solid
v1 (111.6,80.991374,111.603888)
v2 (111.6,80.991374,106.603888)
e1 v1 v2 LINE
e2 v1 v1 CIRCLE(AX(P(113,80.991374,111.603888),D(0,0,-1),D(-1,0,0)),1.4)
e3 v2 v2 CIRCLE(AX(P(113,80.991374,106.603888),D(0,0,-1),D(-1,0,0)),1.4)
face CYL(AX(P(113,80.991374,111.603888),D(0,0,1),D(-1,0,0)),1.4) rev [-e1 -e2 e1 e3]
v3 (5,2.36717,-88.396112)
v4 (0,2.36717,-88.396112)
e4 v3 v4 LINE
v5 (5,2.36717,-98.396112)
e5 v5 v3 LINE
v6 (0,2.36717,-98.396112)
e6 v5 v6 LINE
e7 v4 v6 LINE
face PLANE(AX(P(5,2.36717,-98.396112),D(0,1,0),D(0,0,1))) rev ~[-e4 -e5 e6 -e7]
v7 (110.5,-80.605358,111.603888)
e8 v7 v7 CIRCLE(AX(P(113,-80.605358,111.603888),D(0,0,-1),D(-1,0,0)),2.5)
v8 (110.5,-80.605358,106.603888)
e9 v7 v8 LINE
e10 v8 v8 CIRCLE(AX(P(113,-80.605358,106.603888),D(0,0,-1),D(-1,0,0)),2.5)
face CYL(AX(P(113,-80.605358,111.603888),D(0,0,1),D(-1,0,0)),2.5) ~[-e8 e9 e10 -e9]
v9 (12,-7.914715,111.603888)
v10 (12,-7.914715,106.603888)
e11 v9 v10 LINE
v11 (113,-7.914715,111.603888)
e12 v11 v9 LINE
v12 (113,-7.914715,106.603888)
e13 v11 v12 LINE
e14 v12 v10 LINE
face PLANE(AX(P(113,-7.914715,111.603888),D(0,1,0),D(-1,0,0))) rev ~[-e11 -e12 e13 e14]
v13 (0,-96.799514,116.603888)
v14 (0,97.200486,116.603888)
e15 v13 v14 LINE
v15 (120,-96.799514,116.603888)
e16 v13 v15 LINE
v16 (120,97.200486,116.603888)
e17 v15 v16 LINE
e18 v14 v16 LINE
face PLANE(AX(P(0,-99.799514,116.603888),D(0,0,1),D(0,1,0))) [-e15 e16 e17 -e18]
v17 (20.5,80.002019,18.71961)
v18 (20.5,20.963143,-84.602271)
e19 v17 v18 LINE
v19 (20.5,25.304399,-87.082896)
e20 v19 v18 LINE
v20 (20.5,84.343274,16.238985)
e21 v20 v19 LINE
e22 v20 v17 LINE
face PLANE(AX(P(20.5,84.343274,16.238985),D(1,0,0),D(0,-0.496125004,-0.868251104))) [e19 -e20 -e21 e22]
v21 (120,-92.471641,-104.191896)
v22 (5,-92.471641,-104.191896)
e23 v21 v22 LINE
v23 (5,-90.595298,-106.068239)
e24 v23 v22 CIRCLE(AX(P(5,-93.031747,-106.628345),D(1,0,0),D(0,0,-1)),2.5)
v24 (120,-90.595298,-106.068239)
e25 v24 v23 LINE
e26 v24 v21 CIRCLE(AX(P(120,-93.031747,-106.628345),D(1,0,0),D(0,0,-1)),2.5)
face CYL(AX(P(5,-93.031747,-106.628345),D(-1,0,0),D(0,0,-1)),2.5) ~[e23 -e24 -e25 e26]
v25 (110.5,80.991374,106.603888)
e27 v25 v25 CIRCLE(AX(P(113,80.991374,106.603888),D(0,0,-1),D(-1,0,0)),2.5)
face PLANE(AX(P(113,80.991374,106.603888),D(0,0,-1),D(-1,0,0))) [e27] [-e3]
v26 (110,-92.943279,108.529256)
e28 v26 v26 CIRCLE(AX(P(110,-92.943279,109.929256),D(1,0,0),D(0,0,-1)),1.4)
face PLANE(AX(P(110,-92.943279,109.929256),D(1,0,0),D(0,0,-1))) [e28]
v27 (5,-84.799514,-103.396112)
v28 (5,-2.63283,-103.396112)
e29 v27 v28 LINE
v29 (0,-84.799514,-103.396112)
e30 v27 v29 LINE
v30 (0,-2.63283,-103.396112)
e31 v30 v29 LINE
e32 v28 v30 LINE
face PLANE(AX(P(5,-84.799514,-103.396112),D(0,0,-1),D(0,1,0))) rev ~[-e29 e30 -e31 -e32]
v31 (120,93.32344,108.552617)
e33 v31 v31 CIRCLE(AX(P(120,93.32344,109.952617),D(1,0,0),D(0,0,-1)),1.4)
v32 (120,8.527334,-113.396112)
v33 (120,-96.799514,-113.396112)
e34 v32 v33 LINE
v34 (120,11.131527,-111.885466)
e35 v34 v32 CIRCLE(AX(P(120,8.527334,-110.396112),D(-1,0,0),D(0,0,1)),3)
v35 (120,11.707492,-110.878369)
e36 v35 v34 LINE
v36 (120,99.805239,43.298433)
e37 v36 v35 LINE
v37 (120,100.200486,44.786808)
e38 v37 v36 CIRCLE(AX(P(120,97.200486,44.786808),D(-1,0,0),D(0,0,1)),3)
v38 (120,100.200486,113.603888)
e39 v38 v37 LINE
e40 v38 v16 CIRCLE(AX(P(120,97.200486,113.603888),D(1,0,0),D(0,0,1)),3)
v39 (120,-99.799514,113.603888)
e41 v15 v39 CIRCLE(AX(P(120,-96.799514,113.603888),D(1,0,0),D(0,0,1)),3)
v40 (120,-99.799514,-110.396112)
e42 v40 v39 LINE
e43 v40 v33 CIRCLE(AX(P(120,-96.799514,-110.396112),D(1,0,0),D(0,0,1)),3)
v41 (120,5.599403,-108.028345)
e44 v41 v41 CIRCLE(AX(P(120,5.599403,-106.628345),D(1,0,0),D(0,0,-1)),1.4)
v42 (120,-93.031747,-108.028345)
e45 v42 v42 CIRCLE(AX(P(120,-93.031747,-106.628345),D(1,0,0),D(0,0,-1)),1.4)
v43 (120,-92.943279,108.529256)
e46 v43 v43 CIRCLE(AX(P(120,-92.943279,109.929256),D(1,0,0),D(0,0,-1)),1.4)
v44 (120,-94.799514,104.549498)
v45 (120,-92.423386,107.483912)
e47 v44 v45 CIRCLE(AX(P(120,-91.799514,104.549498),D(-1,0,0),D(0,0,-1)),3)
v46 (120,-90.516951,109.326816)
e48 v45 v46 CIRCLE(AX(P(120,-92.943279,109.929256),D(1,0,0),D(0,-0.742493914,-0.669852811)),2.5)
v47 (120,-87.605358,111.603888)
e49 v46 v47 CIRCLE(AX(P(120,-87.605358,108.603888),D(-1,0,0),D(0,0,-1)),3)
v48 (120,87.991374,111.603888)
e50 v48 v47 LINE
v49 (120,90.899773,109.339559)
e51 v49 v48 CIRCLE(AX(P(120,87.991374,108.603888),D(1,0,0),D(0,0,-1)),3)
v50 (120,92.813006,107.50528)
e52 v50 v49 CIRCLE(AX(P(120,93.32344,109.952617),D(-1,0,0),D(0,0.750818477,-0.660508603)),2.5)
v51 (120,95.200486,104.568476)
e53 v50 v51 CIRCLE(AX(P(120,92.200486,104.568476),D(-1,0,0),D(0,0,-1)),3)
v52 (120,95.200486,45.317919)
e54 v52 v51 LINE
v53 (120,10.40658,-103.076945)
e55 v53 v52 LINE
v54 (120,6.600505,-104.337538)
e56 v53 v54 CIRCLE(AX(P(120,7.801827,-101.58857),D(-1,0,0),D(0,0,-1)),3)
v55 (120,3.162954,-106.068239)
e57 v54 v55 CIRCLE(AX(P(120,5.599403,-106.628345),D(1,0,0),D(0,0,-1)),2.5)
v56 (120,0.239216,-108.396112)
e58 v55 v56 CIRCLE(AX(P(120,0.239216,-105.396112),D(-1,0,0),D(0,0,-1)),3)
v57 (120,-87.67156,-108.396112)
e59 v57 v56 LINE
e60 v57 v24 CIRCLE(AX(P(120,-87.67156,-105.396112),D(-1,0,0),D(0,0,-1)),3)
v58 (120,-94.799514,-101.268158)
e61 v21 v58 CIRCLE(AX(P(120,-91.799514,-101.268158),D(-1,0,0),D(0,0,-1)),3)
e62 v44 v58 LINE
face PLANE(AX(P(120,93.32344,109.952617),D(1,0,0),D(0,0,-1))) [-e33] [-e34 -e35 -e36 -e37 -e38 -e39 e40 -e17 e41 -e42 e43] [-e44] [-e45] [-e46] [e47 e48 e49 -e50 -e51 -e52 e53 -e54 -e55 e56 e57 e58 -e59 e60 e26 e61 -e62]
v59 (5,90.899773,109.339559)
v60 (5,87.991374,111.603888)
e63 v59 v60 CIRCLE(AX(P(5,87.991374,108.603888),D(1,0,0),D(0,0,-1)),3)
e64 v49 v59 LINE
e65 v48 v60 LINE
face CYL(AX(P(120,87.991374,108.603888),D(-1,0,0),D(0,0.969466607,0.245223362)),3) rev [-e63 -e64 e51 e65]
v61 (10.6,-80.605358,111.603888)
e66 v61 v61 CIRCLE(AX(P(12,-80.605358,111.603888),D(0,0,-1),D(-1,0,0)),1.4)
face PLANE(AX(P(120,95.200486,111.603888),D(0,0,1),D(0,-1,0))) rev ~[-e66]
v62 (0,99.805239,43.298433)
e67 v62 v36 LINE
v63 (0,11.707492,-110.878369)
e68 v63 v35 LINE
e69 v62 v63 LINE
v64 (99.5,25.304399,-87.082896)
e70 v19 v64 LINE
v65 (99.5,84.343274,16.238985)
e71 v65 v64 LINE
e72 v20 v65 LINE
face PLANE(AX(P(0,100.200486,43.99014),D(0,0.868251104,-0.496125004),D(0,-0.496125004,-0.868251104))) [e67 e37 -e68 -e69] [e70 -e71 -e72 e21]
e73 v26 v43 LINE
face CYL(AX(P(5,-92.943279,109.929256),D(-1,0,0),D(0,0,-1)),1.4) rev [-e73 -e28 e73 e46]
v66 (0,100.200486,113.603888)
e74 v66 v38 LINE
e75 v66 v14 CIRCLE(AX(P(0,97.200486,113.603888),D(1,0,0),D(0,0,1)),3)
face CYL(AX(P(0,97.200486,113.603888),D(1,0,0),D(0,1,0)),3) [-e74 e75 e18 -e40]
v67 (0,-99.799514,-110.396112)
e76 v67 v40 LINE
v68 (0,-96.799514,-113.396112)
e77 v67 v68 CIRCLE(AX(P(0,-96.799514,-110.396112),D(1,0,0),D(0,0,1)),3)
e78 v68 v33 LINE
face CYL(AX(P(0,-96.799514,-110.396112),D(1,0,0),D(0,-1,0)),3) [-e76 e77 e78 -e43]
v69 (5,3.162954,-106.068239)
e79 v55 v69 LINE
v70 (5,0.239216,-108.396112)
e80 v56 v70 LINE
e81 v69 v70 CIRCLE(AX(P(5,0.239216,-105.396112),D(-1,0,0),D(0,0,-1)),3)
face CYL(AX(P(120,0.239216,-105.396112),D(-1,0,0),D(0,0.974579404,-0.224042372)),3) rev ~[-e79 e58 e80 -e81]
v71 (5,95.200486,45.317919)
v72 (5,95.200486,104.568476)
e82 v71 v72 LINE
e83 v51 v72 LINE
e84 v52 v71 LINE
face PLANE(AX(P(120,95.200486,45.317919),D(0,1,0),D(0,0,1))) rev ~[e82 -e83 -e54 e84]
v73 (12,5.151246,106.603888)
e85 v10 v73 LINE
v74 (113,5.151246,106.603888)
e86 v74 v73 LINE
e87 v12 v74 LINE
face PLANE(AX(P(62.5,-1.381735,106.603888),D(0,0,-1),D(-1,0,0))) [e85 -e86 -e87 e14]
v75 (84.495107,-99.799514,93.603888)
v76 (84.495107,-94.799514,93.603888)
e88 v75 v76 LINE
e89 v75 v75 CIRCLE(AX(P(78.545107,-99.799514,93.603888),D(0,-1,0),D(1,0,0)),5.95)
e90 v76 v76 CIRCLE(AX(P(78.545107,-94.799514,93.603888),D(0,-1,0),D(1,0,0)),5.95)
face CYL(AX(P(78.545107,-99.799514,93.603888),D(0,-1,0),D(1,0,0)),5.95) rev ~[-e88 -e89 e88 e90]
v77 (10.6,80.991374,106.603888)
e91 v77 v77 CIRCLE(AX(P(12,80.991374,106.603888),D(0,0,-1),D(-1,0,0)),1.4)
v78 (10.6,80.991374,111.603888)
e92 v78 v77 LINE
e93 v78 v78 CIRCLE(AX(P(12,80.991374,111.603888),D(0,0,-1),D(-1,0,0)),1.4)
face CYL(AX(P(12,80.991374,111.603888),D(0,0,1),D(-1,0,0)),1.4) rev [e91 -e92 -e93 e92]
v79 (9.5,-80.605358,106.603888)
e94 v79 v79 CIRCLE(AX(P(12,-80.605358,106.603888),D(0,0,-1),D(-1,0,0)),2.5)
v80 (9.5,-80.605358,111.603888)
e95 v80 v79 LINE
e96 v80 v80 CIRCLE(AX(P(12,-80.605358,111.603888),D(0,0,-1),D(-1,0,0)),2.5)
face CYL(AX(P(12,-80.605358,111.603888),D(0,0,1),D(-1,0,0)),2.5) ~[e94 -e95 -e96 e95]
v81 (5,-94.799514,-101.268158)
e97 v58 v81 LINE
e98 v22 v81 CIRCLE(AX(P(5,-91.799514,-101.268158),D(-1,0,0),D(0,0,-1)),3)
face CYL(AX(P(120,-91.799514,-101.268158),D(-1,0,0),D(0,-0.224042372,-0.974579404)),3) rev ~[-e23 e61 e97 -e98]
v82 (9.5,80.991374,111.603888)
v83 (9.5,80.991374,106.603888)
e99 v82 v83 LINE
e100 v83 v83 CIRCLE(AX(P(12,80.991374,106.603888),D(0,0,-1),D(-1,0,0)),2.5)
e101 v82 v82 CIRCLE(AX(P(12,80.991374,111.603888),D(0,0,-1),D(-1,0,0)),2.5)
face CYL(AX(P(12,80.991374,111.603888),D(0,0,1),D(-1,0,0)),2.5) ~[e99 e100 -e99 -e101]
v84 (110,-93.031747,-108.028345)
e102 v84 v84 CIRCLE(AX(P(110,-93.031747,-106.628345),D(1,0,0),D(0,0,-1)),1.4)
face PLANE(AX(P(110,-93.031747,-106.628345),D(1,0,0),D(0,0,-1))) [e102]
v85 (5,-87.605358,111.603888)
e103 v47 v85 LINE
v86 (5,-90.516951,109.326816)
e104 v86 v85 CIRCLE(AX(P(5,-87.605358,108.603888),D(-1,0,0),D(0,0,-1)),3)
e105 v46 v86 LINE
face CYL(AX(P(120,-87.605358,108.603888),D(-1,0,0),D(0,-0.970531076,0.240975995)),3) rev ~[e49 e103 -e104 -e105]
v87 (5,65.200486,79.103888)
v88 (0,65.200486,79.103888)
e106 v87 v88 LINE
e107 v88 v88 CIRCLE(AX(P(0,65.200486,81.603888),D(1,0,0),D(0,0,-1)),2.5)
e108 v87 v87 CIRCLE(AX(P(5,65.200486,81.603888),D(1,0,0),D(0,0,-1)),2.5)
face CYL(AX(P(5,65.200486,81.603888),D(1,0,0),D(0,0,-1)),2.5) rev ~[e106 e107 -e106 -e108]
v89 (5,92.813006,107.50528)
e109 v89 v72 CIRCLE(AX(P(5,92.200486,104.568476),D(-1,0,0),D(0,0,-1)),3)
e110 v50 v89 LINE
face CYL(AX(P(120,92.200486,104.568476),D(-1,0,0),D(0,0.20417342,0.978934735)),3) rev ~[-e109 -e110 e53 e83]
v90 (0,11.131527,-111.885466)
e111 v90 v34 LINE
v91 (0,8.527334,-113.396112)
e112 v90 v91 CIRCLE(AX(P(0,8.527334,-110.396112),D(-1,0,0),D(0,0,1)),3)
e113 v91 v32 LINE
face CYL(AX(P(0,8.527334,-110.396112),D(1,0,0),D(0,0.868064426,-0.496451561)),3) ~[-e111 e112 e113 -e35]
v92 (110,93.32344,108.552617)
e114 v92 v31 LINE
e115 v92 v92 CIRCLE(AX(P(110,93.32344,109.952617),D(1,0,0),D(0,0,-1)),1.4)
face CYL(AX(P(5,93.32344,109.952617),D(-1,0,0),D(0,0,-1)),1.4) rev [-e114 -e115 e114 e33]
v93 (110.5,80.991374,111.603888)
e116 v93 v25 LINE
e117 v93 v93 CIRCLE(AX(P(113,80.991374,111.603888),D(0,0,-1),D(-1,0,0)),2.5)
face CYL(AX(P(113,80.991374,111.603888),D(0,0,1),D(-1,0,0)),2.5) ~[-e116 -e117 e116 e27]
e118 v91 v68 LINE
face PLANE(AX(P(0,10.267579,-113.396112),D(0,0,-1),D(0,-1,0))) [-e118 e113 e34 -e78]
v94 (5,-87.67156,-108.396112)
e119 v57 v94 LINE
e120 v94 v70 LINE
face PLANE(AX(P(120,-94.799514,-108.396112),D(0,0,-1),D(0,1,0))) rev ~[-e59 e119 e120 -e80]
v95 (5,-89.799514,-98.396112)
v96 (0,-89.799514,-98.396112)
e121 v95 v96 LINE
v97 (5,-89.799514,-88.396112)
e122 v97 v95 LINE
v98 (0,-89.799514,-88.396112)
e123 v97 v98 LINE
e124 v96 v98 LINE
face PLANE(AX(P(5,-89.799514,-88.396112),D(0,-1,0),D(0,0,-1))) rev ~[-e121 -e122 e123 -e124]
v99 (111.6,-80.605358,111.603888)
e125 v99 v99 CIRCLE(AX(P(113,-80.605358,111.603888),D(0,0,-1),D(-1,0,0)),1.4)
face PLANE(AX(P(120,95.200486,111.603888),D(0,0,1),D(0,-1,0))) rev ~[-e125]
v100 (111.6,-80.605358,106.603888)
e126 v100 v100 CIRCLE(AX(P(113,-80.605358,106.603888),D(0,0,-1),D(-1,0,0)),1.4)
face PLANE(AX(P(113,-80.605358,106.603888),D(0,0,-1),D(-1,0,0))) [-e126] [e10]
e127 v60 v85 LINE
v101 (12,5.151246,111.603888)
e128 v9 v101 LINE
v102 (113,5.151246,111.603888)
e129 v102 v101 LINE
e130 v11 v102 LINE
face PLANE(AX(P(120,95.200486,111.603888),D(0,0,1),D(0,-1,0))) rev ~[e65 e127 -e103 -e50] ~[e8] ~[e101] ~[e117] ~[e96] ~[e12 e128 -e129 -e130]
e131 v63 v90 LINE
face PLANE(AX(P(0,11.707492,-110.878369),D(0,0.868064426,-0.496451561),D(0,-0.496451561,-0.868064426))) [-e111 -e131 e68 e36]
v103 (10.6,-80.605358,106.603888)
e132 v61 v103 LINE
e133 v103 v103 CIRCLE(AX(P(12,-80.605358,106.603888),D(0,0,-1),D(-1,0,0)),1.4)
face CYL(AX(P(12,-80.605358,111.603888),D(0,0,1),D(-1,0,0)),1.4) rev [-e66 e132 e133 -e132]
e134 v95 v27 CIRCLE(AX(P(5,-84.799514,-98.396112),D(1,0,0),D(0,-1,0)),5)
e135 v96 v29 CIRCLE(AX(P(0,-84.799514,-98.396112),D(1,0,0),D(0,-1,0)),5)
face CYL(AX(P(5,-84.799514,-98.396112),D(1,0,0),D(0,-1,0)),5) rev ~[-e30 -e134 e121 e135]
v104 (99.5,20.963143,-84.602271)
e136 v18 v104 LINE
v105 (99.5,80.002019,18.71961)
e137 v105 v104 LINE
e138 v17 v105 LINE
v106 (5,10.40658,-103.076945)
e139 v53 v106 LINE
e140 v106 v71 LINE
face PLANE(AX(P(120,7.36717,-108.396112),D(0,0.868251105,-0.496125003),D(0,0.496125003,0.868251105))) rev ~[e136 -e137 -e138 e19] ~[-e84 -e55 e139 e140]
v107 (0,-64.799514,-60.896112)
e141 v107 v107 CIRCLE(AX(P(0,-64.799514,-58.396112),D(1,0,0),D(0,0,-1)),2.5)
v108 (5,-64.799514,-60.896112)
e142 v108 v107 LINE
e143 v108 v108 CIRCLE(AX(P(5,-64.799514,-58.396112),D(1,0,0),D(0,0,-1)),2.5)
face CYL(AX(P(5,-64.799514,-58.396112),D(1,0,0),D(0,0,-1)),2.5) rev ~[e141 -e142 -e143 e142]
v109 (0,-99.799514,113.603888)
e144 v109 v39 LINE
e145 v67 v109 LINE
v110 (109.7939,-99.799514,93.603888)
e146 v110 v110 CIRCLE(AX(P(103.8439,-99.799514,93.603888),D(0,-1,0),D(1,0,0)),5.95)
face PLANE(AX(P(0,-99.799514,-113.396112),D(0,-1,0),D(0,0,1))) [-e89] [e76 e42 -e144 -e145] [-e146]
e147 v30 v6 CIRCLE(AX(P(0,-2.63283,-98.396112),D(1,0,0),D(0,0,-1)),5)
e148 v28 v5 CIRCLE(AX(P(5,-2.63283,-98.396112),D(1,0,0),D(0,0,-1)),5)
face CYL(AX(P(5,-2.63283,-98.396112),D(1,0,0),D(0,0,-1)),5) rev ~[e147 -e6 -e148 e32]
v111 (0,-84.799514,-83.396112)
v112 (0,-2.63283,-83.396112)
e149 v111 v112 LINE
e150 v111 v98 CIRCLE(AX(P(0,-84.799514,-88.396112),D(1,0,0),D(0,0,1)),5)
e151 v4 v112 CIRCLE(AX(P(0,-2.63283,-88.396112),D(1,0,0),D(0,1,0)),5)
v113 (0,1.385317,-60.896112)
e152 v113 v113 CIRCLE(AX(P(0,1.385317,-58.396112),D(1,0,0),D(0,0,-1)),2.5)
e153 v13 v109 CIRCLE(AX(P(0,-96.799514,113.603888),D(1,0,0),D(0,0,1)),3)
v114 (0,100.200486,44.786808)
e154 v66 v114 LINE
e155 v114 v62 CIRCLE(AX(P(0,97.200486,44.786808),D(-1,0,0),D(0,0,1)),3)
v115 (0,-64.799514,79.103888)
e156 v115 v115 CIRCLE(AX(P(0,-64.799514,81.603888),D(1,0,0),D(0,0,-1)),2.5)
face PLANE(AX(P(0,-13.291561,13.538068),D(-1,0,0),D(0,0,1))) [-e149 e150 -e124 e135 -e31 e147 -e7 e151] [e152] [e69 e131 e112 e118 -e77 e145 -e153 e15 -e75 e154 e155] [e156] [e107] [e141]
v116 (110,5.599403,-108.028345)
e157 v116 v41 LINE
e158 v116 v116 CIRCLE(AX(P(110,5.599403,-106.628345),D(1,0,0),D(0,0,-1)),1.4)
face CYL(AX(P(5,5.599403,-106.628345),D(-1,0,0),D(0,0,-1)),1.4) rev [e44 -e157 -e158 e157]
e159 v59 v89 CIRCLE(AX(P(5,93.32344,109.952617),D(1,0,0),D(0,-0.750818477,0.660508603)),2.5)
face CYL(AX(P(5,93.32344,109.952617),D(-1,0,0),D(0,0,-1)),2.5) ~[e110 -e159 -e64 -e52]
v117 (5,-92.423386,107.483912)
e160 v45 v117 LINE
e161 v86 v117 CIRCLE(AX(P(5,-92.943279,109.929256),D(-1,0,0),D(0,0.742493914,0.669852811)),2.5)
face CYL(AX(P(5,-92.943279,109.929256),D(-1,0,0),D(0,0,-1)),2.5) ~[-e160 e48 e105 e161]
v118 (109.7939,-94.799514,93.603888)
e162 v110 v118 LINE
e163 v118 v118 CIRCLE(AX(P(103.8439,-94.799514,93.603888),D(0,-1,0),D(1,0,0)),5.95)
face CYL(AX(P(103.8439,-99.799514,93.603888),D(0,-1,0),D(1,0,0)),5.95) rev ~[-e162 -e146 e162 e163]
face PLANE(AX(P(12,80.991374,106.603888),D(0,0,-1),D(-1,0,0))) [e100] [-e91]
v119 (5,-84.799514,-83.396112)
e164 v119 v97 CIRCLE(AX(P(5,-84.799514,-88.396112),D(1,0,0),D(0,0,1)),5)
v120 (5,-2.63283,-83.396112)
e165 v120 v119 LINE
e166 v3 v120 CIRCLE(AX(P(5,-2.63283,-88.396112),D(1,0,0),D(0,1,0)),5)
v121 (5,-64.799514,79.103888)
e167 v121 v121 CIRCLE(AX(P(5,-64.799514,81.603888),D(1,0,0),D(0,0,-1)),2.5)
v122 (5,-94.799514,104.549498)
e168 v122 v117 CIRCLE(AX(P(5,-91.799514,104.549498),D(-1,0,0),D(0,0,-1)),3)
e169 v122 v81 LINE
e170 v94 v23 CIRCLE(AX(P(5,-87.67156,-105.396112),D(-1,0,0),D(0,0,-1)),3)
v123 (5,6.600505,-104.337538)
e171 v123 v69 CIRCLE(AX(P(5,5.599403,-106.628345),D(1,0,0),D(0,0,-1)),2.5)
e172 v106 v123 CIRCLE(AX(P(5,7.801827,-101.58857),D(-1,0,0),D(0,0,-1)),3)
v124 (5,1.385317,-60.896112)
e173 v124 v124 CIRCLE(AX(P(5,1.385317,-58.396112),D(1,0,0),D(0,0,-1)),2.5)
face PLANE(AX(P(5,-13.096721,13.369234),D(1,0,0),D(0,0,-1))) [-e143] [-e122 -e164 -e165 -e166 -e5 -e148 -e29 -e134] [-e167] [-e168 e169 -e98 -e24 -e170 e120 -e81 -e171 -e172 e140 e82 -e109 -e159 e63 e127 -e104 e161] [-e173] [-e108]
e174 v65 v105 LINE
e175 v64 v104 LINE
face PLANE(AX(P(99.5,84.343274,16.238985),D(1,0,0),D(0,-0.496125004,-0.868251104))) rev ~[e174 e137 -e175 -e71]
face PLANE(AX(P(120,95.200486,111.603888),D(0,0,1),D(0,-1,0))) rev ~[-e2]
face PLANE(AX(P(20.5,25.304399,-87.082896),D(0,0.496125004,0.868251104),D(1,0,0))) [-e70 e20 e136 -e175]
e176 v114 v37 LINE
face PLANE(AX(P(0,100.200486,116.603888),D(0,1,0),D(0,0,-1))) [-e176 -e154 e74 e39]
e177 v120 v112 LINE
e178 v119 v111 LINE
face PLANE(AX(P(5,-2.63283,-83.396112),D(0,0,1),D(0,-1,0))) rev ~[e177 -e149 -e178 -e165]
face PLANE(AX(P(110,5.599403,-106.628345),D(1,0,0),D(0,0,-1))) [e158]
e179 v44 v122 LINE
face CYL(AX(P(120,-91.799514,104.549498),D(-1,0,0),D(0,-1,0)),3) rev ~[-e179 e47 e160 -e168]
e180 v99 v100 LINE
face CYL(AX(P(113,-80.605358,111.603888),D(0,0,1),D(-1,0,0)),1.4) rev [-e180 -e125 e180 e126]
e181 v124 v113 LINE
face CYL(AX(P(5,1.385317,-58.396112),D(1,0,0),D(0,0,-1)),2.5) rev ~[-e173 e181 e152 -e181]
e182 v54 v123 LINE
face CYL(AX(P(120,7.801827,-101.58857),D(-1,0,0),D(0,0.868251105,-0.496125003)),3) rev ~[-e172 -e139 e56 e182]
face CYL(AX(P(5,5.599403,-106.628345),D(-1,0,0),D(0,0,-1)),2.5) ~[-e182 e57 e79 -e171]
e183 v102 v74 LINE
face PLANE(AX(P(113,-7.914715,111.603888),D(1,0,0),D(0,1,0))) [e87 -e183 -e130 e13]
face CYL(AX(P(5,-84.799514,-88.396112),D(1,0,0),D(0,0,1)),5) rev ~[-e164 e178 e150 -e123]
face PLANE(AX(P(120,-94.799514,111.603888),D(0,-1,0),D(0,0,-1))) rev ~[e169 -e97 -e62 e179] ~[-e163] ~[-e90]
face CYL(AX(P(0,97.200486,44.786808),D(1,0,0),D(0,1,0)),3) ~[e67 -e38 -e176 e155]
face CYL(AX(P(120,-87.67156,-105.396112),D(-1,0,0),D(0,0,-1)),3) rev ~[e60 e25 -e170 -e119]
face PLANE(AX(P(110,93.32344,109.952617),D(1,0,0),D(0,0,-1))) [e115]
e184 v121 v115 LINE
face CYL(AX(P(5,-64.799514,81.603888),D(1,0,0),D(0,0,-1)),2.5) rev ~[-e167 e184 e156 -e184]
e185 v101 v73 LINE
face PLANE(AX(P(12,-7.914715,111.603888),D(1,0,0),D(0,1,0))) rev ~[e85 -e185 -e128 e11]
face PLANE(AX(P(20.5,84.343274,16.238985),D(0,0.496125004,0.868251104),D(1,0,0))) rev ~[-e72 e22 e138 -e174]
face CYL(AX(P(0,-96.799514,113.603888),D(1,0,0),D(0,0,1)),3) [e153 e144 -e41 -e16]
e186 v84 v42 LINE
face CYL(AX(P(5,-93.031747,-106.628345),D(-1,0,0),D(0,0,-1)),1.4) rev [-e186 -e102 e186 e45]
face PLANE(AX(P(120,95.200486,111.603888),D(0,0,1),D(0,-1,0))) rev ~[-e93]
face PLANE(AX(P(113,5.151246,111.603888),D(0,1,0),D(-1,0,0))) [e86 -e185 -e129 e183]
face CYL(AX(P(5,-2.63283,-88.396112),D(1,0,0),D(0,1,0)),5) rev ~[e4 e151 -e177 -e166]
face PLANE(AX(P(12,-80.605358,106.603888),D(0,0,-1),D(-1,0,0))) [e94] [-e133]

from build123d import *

# Parameters (mm, degrees)
BOSS_EXTRUDE1_DEPTH = 120
CUT_EXTRUDE1_DEPTH  = 115
CUT_EXTRUDE2_DEPTH  = 115
FILLET1_R           = 3
SKETCH4_R           = 2.5
SKETCH4_R_2         = 1.4
BOSS_EXTRUDE2_DEPTH = 115
SKETCH4_2_R         = 1.4
BOSS_EXTRUDE3_DEPTH = 105
FILLET2_R           = 3
SKETCH6_W           = 79
SKETCH6_H           = 119
CUT_EXTRUDE3_DEPTH  = 108
SKETCH9_R           = 2.5
CUT_EXTRUDE4_DEPTH  = 5
SKETCH10_R          = 2.5
SKETCH10_R_2        = 1.4
SKETCH10_W          = 101
SKETCH10_H          = 13.065960553
BOSS_EXTRUDE4_DEPTH = 5
SKETCH11_R          = 5.95
CUT_EXTRUDE5_DEPTH  = 5


with BuildPart() as part:
    # Sketch1 → Boss-Extrude1 (new body)
    with BuildSketch(Plane(origin=(0, 0, 0), x_dir=(0, 0, -1), z_dir=(1, 0, 0))):
        Polygon((-116.603888453, 100.200486057), (-43.990139996, 100.200486057), (110.878369353, 11.707491976), (113.396111547, 10.267579217), (113.396111547, -99.799513943), (-116.603888453, -99.799513943), align=None)
    extrude(amount=BOSS_EXTRUDE1_DEPTH)

    # Sketch2 → Cut-Extrude1 (cut)
    with BuildSketch(Plane(origin=(120, 0, 0), x_dir=(0, 0, -1), z_dir=(1, 0, 0))):
        Polygon((-111.603888453, 95.200486057), (-111.603888453, -94.799513943), (108.396111547, -94.799513943), (108.396111547, 7.367169644), (-45.31791923, 95.200486057), align=None)
    extrude(amount=-CUT_EXTRUDE1_DEPTH, mode=Mode.SUBTRACT)

    # Sketch3 → Cut-Extrude2 (cut)
    with BuildSketch(Plane(origin=(5, 0, 0), x_dir=(0, 0, -1), z_dir=(1, 0, 0))):
        with BuildLine():
            Line((98.396111547, 2.367169644), (88.396111547, 2.367169644))
            ThreePointArc((88.396111547, 2.367169644), (84.860577641, 0.90270355), (83.396111547, -2.632830356))
            Line((83.396111547, -2.632830356), (83.396111547, -84.799513943))
            ThreePointArc((83.396111547, -84.799513943), (84.860577641, -88.335047849), (88.396111547, -89.799513943))
            Line((88.396111547, -89.799513943), (98.396111547, -89.799513943))
            ThreePointArc((98.396111547, -89.799513943), (101.931645453, -88.335047849), (103.396111547, -84.799513943))
            Line((103.396111547, -84.799513943), (103.396111547, -2.632830356))
            ThreePointArc((103.396111547, -2.632830356), (101.931645453, 0.90270355), (98.396111547, 2.367169644))
        make_face()
    extrude(amount=-CUT_EXTRUDE2_DEPTH, mode=Mode.SUBTRACT)

    # Fillet1
    fillet1_edges = [part.edges().sort_by_distance(p)[0] for p in [
        (60, 100.200486057, 43.990139996),
        (60, 10.267579217, -113.396111547),
        (60, -99.799513943, -113.396111547),
        (60, -99.799513943, 116.603888453),
        (60, 100.200486057, 116.603888453),
    ]]
    fillet(fillet1_edges, radius=FILLET1_R)

    # Sketch4 → Boss-Extrude2 (add)
    # profile 1 of 4: a face of its own
    with BuildSketch(Plane(origin=(5, 0, 0), x_dir=(0, 0, -1), z_dir=(1, 0, 0))):
        with Locations((-109.952616945, 93.323439865)):
            Circle(SKETCH4_R)
        with Locations((-109.952616945, 93.323439865)):
            Circle(SKETCH4_R_2, mode=Mode.SUBTRACT)
    # profile 2 of 4: a face of its own
    with BuildSketch(Plane(origin=(5, 0, 0), x_dir=(0, 0, -1), z_dir=(1, 0, 0))):
        with Locations((-109.929256426, -92.943279159)):
            Circle(SKETCH4_R)
        with Locations((-109.929256426, -92.943279159)):
            Circle(SKETCH4_R_2, mode=Mode.SUBTRACT)
    # profile 3 of 4: a face of its own
    with BuildSketch(Plane(origin=(5, 0, 0), x_dir=(0, 0, -1), z_dir=(1, 0, 0))):
        with Locations((106.628344594, -93.03174699)):
            Circle(SKETCH4_R)
        with Locations((106.628344594, -93.03174699)):
            Circle(SKETCH4_R_2, mode=Mode.SUBTRACT)
    # profile 4 of 4: a face of its own
    with BuildSketch(Plane(origin=(5, 0, 0), x_dir=(0, 0, -1), z_dir=(1, 0, 0))):
        with Locations((106.628344594, 5.599402691)):
            Circle(SKETCH4_R)
        with Locations((106.628344594, 5.599402691)):
            Circle(SKETCH4_R_2, mode=Mode.SUBTRACT)
    extrude(amount=BOSS_EXTRUDE2_DEPTH)

    # Sketch4<2> → Boss-Extrude3 (add)
    with BuildSketch(Plane(origin=(5, 0, 0), x_dir=(0, 0, -1), z_dir=(1, 0, 0))):
        with Locations((-109.952616945, 93.323439865)):
            Circle(SKETCH4_2_R)
        with Locations((-109.929256426, -92.943279159)):
            Circle(SKETCH4_2_R)
        with Locations((106.628344594, -93.03174699)):
            Circle(SKETCH4_2_R)
        with Locations((106.628344594, 5.599402691)):
            Circle(SKETCH4_2_R)
    extrude(amount=BOSS_EXTRUDE3_DEPTH)

    # Fillet2
    fillet2_edges = [part.edges().sort_by_distance(p)[0] for p in [
        (62.5, 3.831635738, -108.396111547),
        (62.5, 8.019903673, -107.253784435),
        (62.5, -91.263980037, -108.396111547),
        (62.5, -94.799513943, -104.860577641),
        (62.5, -91.087044375, 111.603888453),
        (62.5, -94.799513943, 108.254624399),
        (62.5, 91.446393673, 111.603888453),
        (62.5, 95.200486057, 108.301345436),
    ]]
    fillet(fillet2_edges, radius=FILLET2_R)

    # Sketch6 → Cut-Extrude3 (cut)
    with BuildSketch(Plane(origin=(0, 56.587896107, -32.33473594), x_dir=(1, 0, 0), z_dir=(0, 0.8682511043894195, -0.49612500413358857))):
        with Locations((60, 3.555675669)):
            Rectangle(SKETCH6_W, SKETCH6_H)
    extrude(amount=-CUT_EXTRUDE3_DEPTH, mode=Mode.SUBTRACT)

    # Sketch9 → Cut-Extrude4 (cut)
    with BuildSketch(Plane(origin=(5, 0, 0), x_dir=(0, 0, -1), z_dir=(1, 0, 0))):
        with Locations((58.396111547, 1.385317381)):
            Circle(SKETCH9_R)
        with Locations((58.396111547, -64.799513943)):
            Circle(SKETCH9_R)
        with Locations((-81.603888453, 65.200486057)):
            Circle(SKETCH9_R)
        with Locations((-81.603888453, -64.799513943)):
            Circle(SKETCH9_R)
    extrude(amount=-CUT_EXTRUDE4_DEPTH, mode=Mode.SUBTRACT)

    # Sketch10 → Boss-Extrude4 (add)
    # profile 1 of 5: a face of its own
    with BuildSketch(Plane(origin=(0, 0, 111.603888453), x_dir=(-1, 0, 0), z_dir=(0, 0, -1))):
        with Locations((-113, 80.991373525)):
            Circle(SKETCH10_R)
        with Locations((-113, 80.991373525)):
            Circle(SKETCH10_R_2, mode=Mode.SUBTRACT)
    # profile 2 of 5: a face of its own
    with BuildSketch(Plane(origin=(0, 0, 111.603888453), x_dir=(-1, 0, 0), z_dir=(0, 0, -1))):
        with Locations((-12, 80.991373525)):
            Circle(SKETCH10_R)
        with Locations((-12, 80.991373525)):
            Circle(SKETCH10_R_2, mode=Mode.SUBTRACT)
    # profile 3 of 5: a face of its own
    with BuildSketch(Plane(origin=(0, 0, 111.603888453), x_dir=(-1, 0, 0), z_dir=(0, 0, -1))):
        with Locations((-62.5, -1.381734535)):
            Rectangle(SKETCH10_W, SKETCH10_H)
    # profile 4 of 5: a face of its own
    with BuildSketch(Plane(origin=(0, 0, 111.603888453), x_dir=(-1, 0, 0), z_dir=(0, 0, -1))):
        with Locations((-113, -80.60535824)):
            Circle(SKETCH10_R)
        with Locations((-113, -80.60535824)):
            Circle(SKETCH10_R_2, mode=Mode.SUBTRACT)
    # profile 5 of 5: a face of its own
    with BuildSketch(Plane(origin=(0, 0, 111.603888453), x_dir=(-1, 0, 0), z_dir=(0, 0, -1))):
        with Locations((-12, -80.60535824)):
            Circle(SKETCH10_R)
        with Locations((-12, -80.60535824)):
            Circle(SKETCH10_R_2, mode=Mode.SUBTRACT)
    extrude(amount=BOSS_EXTRUDE4_DEPTH)

    # Sketch11 → Cut-Extrude5 (cut)
    with BuildSketch(Plane.XZ.offset(99.799513943)):
        with Locations((103.843899656, 93.603888453)):
            Circle(SKETCH11_R)
        with Locations((78.545107218, 93.603888453)):
            Circle(SKETCH11_R)
    extrude(amount=-CUT_EXTRUDE5_DEPTH, mode=Mode.SUBTRACT)


solid = part.part
